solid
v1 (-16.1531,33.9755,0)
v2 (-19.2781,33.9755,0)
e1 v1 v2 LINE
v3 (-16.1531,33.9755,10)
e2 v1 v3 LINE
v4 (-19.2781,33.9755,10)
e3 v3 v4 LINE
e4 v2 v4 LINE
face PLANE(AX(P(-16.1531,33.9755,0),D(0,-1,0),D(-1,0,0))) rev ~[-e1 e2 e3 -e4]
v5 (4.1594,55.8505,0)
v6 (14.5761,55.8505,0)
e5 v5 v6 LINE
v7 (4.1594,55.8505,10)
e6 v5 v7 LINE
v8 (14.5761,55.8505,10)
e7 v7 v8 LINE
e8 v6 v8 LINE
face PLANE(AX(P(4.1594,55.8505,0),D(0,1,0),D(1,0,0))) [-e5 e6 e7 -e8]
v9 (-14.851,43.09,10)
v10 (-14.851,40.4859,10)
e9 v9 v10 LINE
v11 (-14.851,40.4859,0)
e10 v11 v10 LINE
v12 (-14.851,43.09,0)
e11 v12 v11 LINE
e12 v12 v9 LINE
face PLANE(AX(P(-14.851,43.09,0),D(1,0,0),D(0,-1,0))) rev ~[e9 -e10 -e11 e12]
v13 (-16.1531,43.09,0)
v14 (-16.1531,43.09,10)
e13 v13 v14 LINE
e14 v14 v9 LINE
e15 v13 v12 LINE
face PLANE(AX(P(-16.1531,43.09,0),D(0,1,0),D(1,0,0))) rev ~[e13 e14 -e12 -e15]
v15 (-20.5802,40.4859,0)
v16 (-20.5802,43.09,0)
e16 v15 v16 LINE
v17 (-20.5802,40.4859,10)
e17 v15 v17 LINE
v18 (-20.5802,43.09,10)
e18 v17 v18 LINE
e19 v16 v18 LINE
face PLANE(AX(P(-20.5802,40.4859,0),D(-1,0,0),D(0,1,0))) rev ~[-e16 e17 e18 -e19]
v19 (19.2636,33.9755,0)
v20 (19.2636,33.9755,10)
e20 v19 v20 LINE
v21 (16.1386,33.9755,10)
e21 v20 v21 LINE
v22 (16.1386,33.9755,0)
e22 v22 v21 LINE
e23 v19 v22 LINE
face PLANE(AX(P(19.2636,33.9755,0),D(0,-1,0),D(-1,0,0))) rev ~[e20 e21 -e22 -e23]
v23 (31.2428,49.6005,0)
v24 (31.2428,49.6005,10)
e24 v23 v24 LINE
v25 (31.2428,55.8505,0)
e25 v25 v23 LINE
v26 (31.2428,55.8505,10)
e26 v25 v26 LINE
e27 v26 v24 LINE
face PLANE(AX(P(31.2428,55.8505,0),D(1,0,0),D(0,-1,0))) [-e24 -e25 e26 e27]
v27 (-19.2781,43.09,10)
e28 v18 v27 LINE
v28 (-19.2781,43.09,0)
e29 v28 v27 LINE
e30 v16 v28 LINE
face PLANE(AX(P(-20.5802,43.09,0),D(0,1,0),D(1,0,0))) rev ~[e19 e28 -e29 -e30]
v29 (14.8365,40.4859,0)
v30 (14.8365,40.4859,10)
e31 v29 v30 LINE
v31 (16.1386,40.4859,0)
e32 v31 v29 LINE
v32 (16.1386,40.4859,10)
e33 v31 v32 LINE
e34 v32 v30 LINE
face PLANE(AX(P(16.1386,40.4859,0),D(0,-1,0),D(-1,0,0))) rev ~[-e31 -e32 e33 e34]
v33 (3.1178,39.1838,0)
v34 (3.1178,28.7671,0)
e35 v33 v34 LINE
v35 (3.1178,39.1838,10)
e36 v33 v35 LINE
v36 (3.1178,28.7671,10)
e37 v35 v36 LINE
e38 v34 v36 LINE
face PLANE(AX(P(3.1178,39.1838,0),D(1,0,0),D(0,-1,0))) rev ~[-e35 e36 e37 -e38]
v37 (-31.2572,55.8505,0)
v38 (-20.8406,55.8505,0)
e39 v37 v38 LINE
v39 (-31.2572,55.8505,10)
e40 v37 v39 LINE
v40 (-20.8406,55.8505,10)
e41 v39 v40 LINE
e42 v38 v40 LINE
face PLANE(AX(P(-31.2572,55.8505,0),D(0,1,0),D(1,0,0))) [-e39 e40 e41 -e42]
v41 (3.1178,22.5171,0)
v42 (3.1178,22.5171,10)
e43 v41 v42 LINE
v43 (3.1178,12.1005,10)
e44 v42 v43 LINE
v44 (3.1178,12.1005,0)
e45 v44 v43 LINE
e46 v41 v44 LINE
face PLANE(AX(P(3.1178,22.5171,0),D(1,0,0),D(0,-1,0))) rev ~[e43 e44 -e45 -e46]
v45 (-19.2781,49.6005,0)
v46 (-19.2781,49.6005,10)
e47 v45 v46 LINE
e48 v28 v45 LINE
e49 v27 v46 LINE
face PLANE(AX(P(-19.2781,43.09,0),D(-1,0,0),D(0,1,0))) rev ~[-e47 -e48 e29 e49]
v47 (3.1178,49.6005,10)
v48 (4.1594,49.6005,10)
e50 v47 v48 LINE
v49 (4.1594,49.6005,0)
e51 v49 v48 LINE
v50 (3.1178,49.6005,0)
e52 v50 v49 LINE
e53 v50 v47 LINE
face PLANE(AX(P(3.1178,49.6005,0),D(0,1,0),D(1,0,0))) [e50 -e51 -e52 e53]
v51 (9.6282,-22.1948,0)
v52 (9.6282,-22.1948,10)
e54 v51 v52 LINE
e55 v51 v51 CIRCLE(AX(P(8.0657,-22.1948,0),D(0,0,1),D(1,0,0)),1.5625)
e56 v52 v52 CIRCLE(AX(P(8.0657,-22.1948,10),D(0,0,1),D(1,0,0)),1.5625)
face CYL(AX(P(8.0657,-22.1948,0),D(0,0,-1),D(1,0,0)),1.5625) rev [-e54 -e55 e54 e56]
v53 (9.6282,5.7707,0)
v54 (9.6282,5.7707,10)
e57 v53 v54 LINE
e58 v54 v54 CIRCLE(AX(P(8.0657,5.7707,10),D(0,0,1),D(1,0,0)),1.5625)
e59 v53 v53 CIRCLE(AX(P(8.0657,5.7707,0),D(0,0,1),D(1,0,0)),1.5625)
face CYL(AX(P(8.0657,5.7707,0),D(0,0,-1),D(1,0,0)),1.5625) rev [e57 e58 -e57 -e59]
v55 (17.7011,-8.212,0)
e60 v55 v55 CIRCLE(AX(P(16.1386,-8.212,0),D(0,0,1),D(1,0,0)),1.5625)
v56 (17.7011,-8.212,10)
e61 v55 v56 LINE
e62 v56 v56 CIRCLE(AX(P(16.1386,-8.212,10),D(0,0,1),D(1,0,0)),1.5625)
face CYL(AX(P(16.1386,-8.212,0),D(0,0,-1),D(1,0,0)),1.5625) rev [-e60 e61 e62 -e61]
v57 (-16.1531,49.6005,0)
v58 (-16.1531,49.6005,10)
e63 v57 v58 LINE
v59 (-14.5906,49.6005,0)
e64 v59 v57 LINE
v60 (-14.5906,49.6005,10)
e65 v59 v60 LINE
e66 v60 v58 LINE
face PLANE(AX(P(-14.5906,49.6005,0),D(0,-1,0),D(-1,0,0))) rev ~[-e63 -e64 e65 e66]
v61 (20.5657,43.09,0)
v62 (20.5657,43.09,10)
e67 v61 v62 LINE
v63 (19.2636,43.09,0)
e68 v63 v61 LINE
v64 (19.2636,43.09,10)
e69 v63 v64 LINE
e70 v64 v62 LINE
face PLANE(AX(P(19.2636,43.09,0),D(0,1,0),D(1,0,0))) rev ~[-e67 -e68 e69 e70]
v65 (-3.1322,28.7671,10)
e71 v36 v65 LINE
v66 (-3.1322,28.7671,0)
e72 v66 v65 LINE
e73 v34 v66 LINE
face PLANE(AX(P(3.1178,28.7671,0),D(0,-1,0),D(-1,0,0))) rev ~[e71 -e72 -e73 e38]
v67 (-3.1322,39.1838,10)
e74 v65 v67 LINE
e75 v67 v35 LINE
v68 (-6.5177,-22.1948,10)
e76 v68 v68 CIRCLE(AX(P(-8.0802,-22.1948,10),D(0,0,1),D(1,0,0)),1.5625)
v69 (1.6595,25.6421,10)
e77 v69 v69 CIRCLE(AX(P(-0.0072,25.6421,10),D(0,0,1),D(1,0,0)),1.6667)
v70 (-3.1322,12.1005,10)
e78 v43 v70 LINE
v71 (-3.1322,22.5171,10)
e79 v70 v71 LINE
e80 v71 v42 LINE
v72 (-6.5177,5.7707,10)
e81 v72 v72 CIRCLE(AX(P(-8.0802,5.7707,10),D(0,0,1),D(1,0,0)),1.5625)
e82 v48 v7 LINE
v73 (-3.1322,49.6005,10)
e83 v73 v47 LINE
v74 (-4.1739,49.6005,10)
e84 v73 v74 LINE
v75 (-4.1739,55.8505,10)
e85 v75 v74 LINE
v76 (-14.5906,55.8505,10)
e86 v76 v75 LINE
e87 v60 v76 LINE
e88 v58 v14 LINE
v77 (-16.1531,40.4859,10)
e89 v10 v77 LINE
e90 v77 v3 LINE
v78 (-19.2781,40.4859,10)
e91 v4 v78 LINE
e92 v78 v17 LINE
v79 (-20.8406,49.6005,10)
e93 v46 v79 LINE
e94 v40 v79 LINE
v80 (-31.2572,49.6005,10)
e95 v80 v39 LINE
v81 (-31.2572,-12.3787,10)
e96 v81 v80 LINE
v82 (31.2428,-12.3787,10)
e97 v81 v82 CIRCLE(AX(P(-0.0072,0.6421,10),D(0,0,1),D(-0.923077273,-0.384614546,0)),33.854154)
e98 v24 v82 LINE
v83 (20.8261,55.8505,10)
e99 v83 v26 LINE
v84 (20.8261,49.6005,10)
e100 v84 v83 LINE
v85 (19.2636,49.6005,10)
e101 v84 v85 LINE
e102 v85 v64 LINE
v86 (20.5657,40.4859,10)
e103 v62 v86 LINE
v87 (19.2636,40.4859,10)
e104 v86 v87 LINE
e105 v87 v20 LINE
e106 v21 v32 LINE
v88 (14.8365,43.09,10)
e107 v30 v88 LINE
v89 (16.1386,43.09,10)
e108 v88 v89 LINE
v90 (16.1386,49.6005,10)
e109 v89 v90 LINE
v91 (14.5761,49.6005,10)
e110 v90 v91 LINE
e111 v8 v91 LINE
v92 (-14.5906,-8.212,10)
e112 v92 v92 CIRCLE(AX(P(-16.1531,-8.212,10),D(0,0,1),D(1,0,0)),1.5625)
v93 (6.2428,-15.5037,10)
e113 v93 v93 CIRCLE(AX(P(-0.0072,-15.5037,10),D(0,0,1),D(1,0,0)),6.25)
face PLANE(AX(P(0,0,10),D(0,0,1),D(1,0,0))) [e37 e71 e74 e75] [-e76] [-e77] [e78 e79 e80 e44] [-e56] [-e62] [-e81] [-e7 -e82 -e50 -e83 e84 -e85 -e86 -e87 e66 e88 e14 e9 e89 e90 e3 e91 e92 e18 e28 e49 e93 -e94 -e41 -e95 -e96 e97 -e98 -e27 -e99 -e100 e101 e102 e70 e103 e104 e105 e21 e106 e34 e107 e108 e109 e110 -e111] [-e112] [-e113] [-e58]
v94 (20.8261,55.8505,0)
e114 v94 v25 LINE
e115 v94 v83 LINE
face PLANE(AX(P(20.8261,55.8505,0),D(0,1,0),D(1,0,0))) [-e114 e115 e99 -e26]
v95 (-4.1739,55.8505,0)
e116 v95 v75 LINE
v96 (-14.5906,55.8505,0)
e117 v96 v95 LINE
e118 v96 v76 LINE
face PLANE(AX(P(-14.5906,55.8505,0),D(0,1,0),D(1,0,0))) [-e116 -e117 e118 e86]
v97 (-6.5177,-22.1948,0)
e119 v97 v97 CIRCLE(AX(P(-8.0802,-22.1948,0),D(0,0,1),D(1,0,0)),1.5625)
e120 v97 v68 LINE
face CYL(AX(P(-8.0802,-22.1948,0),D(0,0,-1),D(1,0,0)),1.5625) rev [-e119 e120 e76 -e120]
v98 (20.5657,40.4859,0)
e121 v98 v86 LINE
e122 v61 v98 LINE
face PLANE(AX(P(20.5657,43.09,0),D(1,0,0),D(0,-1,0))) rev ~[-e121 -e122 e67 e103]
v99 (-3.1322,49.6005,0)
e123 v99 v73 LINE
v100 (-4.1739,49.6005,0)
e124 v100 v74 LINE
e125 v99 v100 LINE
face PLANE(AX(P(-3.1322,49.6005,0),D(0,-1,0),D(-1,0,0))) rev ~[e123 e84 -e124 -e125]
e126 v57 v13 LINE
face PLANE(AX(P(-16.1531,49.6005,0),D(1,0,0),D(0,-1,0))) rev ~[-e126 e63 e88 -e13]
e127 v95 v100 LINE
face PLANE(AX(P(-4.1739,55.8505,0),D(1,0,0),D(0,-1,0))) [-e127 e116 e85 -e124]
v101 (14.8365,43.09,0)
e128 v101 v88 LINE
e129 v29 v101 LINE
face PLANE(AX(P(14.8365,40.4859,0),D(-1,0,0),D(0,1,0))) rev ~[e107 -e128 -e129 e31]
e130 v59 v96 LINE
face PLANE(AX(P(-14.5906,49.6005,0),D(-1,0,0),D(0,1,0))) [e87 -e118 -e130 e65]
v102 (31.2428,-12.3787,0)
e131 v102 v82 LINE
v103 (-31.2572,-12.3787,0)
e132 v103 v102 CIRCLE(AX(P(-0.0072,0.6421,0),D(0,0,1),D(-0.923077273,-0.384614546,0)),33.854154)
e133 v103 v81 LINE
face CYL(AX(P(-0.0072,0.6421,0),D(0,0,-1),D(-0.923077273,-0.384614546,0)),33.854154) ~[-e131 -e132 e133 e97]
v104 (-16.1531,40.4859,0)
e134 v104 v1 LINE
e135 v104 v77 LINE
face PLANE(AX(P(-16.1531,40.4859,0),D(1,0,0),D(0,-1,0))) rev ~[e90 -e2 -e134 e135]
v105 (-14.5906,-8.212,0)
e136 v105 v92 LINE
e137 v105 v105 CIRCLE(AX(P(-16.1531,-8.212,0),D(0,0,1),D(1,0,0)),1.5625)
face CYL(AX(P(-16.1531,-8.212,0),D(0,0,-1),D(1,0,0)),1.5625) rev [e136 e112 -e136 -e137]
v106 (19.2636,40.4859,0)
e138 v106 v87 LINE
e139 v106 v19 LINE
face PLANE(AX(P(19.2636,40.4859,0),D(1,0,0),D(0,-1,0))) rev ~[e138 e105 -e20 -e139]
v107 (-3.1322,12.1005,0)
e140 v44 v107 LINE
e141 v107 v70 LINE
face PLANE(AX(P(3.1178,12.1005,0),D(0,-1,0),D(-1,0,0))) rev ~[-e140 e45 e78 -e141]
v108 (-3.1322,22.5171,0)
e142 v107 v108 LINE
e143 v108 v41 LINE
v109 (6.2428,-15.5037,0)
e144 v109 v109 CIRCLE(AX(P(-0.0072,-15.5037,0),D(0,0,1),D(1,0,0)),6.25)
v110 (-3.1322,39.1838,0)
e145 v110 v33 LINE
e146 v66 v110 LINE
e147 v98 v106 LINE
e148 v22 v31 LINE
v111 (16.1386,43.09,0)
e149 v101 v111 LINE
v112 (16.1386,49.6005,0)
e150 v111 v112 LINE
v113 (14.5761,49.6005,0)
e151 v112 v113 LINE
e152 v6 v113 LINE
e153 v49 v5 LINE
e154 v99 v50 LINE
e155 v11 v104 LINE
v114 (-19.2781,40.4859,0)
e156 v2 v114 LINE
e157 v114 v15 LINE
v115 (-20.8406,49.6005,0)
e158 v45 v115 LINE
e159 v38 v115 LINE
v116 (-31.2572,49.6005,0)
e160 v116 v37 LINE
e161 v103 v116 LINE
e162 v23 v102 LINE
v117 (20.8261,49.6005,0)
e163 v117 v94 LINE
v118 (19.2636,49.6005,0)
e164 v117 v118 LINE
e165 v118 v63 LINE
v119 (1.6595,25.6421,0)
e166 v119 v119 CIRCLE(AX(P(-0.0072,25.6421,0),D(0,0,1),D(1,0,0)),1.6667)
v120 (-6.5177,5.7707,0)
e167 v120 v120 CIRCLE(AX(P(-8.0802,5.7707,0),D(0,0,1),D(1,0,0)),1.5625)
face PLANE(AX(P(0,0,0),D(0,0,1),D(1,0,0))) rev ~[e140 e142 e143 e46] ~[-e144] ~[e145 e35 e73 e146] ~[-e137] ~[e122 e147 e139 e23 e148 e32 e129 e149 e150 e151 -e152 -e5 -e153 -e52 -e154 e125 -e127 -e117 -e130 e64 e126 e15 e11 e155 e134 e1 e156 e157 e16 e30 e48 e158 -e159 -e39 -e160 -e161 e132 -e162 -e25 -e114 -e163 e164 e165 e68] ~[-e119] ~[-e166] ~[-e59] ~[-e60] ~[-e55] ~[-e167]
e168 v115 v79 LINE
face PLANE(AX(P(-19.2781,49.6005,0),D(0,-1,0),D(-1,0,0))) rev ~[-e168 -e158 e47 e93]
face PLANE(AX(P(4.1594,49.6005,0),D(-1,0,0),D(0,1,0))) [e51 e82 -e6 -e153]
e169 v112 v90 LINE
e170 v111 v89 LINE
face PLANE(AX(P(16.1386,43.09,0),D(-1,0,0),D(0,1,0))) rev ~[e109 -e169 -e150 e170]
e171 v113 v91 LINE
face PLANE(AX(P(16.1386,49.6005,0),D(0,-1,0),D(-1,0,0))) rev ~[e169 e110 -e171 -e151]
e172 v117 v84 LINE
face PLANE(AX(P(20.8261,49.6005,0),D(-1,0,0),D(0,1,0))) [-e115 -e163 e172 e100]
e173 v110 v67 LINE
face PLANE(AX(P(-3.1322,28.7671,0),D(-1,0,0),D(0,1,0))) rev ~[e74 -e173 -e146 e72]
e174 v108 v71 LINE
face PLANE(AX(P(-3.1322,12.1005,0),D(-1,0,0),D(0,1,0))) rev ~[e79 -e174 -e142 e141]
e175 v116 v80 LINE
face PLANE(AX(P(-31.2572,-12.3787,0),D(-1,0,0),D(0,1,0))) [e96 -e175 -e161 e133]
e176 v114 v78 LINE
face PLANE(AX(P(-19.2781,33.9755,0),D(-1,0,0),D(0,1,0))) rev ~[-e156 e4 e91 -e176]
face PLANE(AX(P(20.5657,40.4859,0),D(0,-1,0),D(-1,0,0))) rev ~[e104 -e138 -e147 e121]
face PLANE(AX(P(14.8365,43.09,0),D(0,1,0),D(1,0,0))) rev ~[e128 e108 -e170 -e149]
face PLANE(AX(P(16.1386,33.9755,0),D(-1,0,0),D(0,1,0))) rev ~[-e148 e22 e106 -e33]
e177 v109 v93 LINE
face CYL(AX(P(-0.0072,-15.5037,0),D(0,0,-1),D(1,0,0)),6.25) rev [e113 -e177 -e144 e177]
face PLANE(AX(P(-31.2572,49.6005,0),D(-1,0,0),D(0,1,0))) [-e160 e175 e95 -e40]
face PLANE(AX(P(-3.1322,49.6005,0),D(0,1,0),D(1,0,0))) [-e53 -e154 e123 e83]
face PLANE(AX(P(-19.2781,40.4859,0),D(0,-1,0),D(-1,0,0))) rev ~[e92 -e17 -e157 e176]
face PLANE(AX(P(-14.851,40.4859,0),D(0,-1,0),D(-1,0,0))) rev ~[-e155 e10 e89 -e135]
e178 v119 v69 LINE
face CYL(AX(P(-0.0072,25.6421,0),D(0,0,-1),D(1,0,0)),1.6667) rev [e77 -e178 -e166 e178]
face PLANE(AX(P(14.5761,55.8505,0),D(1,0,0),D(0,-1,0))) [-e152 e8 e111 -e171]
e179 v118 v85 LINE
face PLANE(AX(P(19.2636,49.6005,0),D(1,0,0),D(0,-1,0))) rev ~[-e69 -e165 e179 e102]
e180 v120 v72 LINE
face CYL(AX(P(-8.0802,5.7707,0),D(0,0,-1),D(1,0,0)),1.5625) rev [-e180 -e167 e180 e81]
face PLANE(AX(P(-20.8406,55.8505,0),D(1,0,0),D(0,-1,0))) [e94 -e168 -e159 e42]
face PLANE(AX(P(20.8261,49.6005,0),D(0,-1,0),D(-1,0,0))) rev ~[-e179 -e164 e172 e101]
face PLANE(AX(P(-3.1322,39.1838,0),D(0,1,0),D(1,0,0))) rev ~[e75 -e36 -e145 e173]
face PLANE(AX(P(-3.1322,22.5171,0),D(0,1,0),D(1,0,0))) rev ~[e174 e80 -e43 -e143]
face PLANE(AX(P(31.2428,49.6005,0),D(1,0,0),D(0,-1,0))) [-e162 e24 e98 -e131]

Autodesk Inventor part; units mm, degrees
ref_plane "YZ Plane" through (0, 0, 0) normal (1, 0, 0) x (0, 1, 0)
ref_plane "XZ Plane" through (0, 0, 0) normal (0, 1, 0) x (-1, 0, 0)
ref_plane "XY Plane" through (0, 0, 0) normal (0, 0, 1) x (1, 0, 0)
sketch "0" plane through (0, 0, 0) normal (0, 0, 1) x (1, 0, 0)
  line L0 (4.1594, 49.6005) -> (4.1594, 55.8505)
  line L1 (4.1594, 55.8505) -> (14.5761, 55.8505)
  line L2 (14.5761, 55.8505) -> (14.5761, 49.6005)
  line L3 (20.8261, 49.6005) -> (19.2636, 49.6005)
  line L4 (19.2636, 49.6005) -> (19.2636, 43.09)
  line L5 (19.2636, 33.9755) -> (16.1386, 33.9755)
  line L6 (16.1386, 33.9755) -> (16.1386, 40.4859)
  line L7 (14.8365, 43.09) -> (16.1386, 43.09)
  line L8 (20.5657, 43.09) -> (20.5657, 40.4859)
  line L9 (20.5657, 40.4859) -> (19.2636, 40.4859)
  line L10 (14.8365, 40.4859) -> (14.8365, 43.09)
  line L11 (16.1386, 43.09) -> (16.1386, 49.6005)
  line L12 (16.1386, 40.4859) -> (14.8365, 40.4859)
  line L13 (19.2636, 43.09) -> (20.5657, 43.09)
  line L14 (16.1386, 49.6005) -> (14.5761, 49.6005)
  line L15 (20.8261, 55.8505) -> (31.2428, 55.8505)
  line L16 (20.8261, 49.6005) -> (20.8261, 55.8505)
  line L17 (31.2428, 55.8505) -> (31.2428, 49.6005)
  line L18 (19.2636, 40.4859) -> (19.2636, 33.9755)
  line L19 (-31.2572, 49.6005) -> (-31.2572, 55.8505)
  line L20 (-31.2572, 55.8505) -> (-20.8406, 55.8505)
  line L21 (-14.5906, 55.8505) -> (-4.1739, 55.8505)
  line L22 (-4.1739, 55.8505) -> (-4.1739, 49.6005)
  line L23 (-3.1322, 49.6005) -> (-4.1739, 49.6005)
  line L24 (3.1178, 49.6005) -> (4.1594, 49.6005)
  line L25 (-20.8406, 55.8505) -> (-20.8406, 49.6005)
  line L26 (-14.5906, 49.6005) -> (-16.1531, 49.6005)
  line L27 (-16.1531, 49.6005) -> (-16.1531, 43.09)
  line L28 (-16.1531, 33.9755) -> (-19.2781, 33.9755)
  line L29 (-19.2781, 33.9755) -> (-19.2781, 40.4859)
  line L30 (-20.5802, 43.09) -> (-19.2781, 43.09)
  line L31 (-14.851, 43.09) -> (-14.851, 40.4859)
  line L32 (-14.851, 40.4859) -> (-16.1531, 40.4859)
  line L33 (-20.5802, 40.4859) -> (-20.5802, 43.09)
  line L34 (-19.2781, 43.09) -> (-19.2781, 49.6005)
  line L35 (-19.2781, 40.4859) -> (-20.5802, 40.4859)
  line L36 (-16.1531, 43.09) -> (-14.851, 43.09)
  line L37 (-19.2781, 49.6005) -> (-20.8406, 49.6005)
  line L38 (-14.5906, 49.6005) -> (-14.5906, 55.8505)
  line L39 (-16.1531, 40.4859) -> (-16.1531, 33.9755)
  arc A0 (-31.2572, -12.3787) -> (31.2428, -12.3787) centre (-0.0072, 0.6421) ccw
  circle A1 centre (8.0657, 5.7707) radius 1.5625
  circle A2 centre (-8.0802, 5.7707) radius 1.5625
  circle A3 centre (-16.1531, -8.212) radius 1.5625
  circle A4 centre (-8.0802, -22.1948) radius 1.5625
  circle A5 centre (8.0657, -22.1948) radius 1.5625
  circle A6 centre (16.1386, -8.212) radius 1.5625
  circle A7 centre (-0.0072, -15.5037) radius 6.25
  line L40 (31.2428, 49.6005) -> (31.2428, -12.3787)
  line L41 (-31.2572, -12.3787) -> (-31.2572, 49.6005)
  line L42 (-3.1322, 12.1005) -> (-3.1322, 22.5171)
  line L43 (-3.1322, 22.5171) -> (3.1178, 22.5171)
  line L44 (3.1178, 22.5171) -> (3.1178, 12.1005)
  line L45 (3.1178, 12.1005) -> (-3.1322, 12.1005)
  line L46 (-3.1322, 28.7671) -> (-3.1322, 39.1838)
  line L47 (3.1178, 39.1838) -> (3.1178, 28.7671)
  line L48 (3.1178, 28.7671) -> (-3.1322, 28.7671)
  circle A8 centre (-0.0072, 25.6421) radius 1.6667
  line L49 (-3.1322, 39.1838) -> (3.1178, 39.1838)
  line L50 (-3.1322, 49.6005) -> (3.1178, 49.6005)
  dimension "d0" = 12.5
sketch "Эскиз3" plane through (0, 0, 0) normal (0, 0, 1) x (1, 0, 0)
  circle A0 centre (-0.0072, -15.5037) radius 6.25
  circle A1 centre (-16.1531, -8.212) radius 1.5625
  circle A2 centre (-8.0802, 5.7707) radius 1.5625
  circle A3 centre (8.0657, 5.7707) radius 1.5625
  circle A4 centre (16.1386, -8.212) radius 1.5625
  circle A5 centre (8.0657, -22.1948) radius 1.5625
  circle A6 centre (-8.0802, -22.1948) radius 1.5625
  arc A7 (-31.2572, -12.3787) -> (31.2428, -12.3787) centre (-0.0072, 0.6421) ccw
  line L0 (-31.2572, -12.3787) -> (-31.2572, 49.6005)
  line L1 (-31.2572, 49.6005) -> (-31.2572, 55.8505)
  line L2 (-31.2572, 55.8505) -> (-20.8406, 55.8505)
  line L3 (-20.8406, 55.8505) -> (-20.8406, 49.6005)
  line L4 (-19.2781, 49.6005) -> (-20.8406, 49.6005)
  line L5 (-19.2781, 43.09) -> (-19.2781, 49.6005)
  line L6 (-20.5802, 43.09) -> (-19.2781, 43.09)
  line L7 (-20.5802, 40.4859) -> (-20.5802, 43.09)
  line L8 (-19.2781, 40.4859) -> (-20.5802, 40.4859)
  line L9 (-19.2781, 33.9755) -> (-19.2781, 40.4859)
  line L10 (-16.1531, 33.9755) -> (-19.2781, 33.9755)
  line L11 (-16.1531, 40.4859) -> (-16.1531, 33.9755)
  line L12 (-14.851, 40.4859) -> (-16.1531, 40.4859)
  line L13 (-14.851, 43.09) -> (-14.851, 40.4859)
  line L14 (-16.1531, 43.09) -> (-14.851, 43.09)
  line L15 (-16.1531, 49.6005) -> (-16.1531, 43.09)
  line L16 (-14.5906, 49.6005) -> (-16.1531, 49.6005)
  line L17 (-14.5906, 49.6005) -> (-14.5906, 55.8505)
  line L18 (-14.5906, 55.8505) -> (-4.1739, 55.8505)
  line L19 (-4.1739, 55.8505) -> (-4.1739, 49.6005)
  line L20 (-3.1322, 49.6005) -> (3.1178, 49.6005)
  line L21 (3.1178, 49.6005) -> (4.1594, 49.6005)
  line L22 (-3.1322, 49.6005) -> (-4.1739, 49.6005)
  line L23 (4.1594, 49.6005) -> (4.1594, 55.8505)
  line L24 (4.1594, 55.8505) -> (14.5761, 55.8505)
  line L25 (14.5761, 55.8505) -> (14.5761, 49.6005)
  line L26 (16.1386, 49.6005) -> (14.5761, 49.6005)
  line L27 (16.1386, 43.09) -> (16.1386, 49.6005)
  line L28 (14.8365, 43.09) -> (16.1386, 43.09)
  line L29 (14.8365, 40.4859) -> (14.8365, 43.09)
  line L30 (16.1386, 40.4859) -> (14.8365, 40.4859)
  line L31 (16.1386, 33.9755) -> (16.1386, 40.4859)
  line L32 (19.2636, 33.9755) -> (16.1386, 33.9755)
  line L33 (19.2636, 40.4859) -> (19.2636, 33.9755)
  line L34 (20.5657, 40.4859) -> (19.2636, 40.4859)
  line L35 (20.5657, 43.09) -> (20.5657, 40.4859)
  line L36 (19.2636, 43.09) -> (20.5657, 43.09)
  line L37 (19.2636, 49.6005) -> (19.2636, 43.09)
  line L38 (20.8261, 49.6005) -> (19.2636, 49.6005)
  line L39 (20.8261, 49.6005) -> (20.8261, 55.8505)
  line L40 (20.8261, 55.8505) -> (31.2428, 55.8505)
  line L41 (31.2428, 49.6005) -> (31.2428, -12.3787)
  line L42 (3.1178, 22.5171) -> (3.1178, 12.1005)
  circle A8 centre (-0.0072, 25.6421) radius 1.6667
  line L43 (3.1178, 28.7671) -> (-3.1322, 28.7671)
  line L44 (-3.1322, 28.7671) -> (-3.1322, 39.1838)
  line L45 (-3.1322, 39.1838) -> (3.1178, 39.1838)
  line L46 (3.1178, 39.1838) -> (3.1178, 28.7671)
  line L47 (-3.1322, 22.5171) -> (3.1178, 22.5171)
  line L48 (-3.1322, 12.1005) -> (-3.1322, 22.5171)
  line L49 (3.1178, 12.1005) -> (-3.1322, 12.1005)
  line L50 (31.2428, 55.8505) -> (31.2428, 49.6005)
  line L51 (31.2428, 55.8505) -> (31.2428, -12.3787)
  line L52 (20.8261, 55.8505) -> (31.2428, 55.8505)
  line L53 (20.8261, 55.8505) -> (20.8261, 49.6005)
  line L54 (19.2636, 49.6005) -> (20.8261, 49.6005)
  line L55 (19.2636, 43.09) -> (19.2636, 49.6005)
  line L56 (20.5657, 43.09) -> (19.2636, 43.09)
  line L57 (20.5657, 43.09) -> (20.5657, 40.4859)
  line L58 (20.5657, 40.4859) -> (19.2636, 40.4859)
  line L59 (19.2636, 40.4859) -> (19.2636, 33.9755)
  line L60 (16.1386, 33.9755) -> (19.2636, 33.9755)
  line L61 (16.1386, 40.4859) -> (16.1386, 33.8824)
  line L62 (14.8365, 40.4859) -> (16.1386, 40.4859)
  line L63 (14.8365, 43.09) -> (14.8365, 40.4859)
  line L64 (16.1386, 43.09) -> (14.8365, 43.09)
  line L65 (16.1386, 49.6005) -> (16.1386, 43.09)
  line L66 (16.1386, 49.6005) -> (14.5761, 49.6005)
  line L67 (14.5761, 49.6005) -> (14.5761, 55.8505)
  line L68 (4.1594, 55.8505) -> (14.5761, 55.8505)
  line L69 (4.1594, 55.8505) -> (4.1594, 49.6005)
  line L70 (-3.1322, 39.1838) -> (3.1178, 39.1838)
  line L71 (3.1178, 39.1838) -> (3.1178, 28.7671)
  line L72 (3.1178, 28.7671) -> (-3.1322, 28.7671)
  line L73 (-3.1322, 28.7671) -> (-3.1322, 39.1838)
  line L74 (-3.1322, 22.5171) -> (3.1178, 22.5171)
  line L75 (3.1178, 22.5171) -> (3.1178, 12.1005)
  line L76 (3.1178, 12.1005) -> (-3.1322, 12.1005)
  line L77 (-3.1322, 12.1005) -> (-3.1322, 22.5171)
  circle A9 centre (-0.0072, -15.5037) radius 6.25
  circle A10 centre (16.1386, -8.212) radius 1.5625
  circle A11 centre (8.0657, 5.7707) radius 1.5625
  circle A12 centre (8.0657, -22.1948) radius 1.5625
  circle A13 centre (-8.0802, 5.7707) radius 1.5625
  circle A14 centre (-16.1531, -8.212) radius 1.5625
  circle A15 centre (-8.0802, -22.1948) radius 1.5625
  line L78 (-14.5906, 55.8505) -> (-14.5906, 49.6005)
  line L79 (-20.8406, 49.6005) -> (-20.8406, 55.8505)
  line L80 (-14.851, 43.09) -> (-14.851, 40.4859)
  line L81 (-20.5802, 40.4859) -> (-20.5802, 43.09)
  line L82 (-16.1531, 33.9755) -> (-19.2781, 33.9755)
  line L83 (-20.8406, 55.8505) -> (-20.5802, 55.8505)
  line L84 (-14.851, 55.8505) -> (-14.5906, 55.8505)
  line L85 (-14.5906, 49.6005) -> (-16.1531, 49.6005)
  line L86 (-19.2781, 49.6005) -> (-20.8406, 49.6005)
  line L87 (-19.2781, 33.9755) -> (-19.2781, 40.4859)
  line L88 (-19.2781, 43.09) -> (-19.2781, 49.6005)
  line L89 (-16.1531, 49.6005) -> (-16.1531, 43.09)
  line L90 (-16.1531, 40.4859) -> (-16.1531, 33.9755)
  line L91 (-20.5802, 43.09) -> (-19.2781, 43.09)
  line L92 (-16.1531, 43.09) -> (-14.851, 43.09)
  line L93 (-14.851, 40.4859) -> (-16.1531, 40.4859)
  line L94 (-19.2781, 40.4859) -> (-20.5802, 40.4859)
  line L95 (-31.2572, 55.8505) -> (-31.2572, -12.3787)
  line L96 (-31.2572, 55.8505) -> (-20.5802, 55.8505)
  line L97 (-14.851, 55.8505) -> (-4.1739, 55.8505)
  line L98 (-4.1739, 55.8505) -> (-4.1739, 49.6005)
  line L99 (-4.1739, 49.6005) -> (4.1594, 49.6005)
  circle A16 centre (-0.0072, 25.6421) radius 1.6667
  arc A17 (-31.2572, -12.3787) -> (31.2428, -12.3787) centre (-0.0072, 0.6421) ccw
  point P0 (0, 0)
  point P1 (-0.0072, 12.1005)
  point P2 (3.1178, 17.3088)
  dimension "d1" = 33.8542
  dimension "d2" = 12.5
extrude "Выдавливание1" add sketch "Эскиз3" along normal blind 10
properties part number "Крепление_мотора1_платформа"
